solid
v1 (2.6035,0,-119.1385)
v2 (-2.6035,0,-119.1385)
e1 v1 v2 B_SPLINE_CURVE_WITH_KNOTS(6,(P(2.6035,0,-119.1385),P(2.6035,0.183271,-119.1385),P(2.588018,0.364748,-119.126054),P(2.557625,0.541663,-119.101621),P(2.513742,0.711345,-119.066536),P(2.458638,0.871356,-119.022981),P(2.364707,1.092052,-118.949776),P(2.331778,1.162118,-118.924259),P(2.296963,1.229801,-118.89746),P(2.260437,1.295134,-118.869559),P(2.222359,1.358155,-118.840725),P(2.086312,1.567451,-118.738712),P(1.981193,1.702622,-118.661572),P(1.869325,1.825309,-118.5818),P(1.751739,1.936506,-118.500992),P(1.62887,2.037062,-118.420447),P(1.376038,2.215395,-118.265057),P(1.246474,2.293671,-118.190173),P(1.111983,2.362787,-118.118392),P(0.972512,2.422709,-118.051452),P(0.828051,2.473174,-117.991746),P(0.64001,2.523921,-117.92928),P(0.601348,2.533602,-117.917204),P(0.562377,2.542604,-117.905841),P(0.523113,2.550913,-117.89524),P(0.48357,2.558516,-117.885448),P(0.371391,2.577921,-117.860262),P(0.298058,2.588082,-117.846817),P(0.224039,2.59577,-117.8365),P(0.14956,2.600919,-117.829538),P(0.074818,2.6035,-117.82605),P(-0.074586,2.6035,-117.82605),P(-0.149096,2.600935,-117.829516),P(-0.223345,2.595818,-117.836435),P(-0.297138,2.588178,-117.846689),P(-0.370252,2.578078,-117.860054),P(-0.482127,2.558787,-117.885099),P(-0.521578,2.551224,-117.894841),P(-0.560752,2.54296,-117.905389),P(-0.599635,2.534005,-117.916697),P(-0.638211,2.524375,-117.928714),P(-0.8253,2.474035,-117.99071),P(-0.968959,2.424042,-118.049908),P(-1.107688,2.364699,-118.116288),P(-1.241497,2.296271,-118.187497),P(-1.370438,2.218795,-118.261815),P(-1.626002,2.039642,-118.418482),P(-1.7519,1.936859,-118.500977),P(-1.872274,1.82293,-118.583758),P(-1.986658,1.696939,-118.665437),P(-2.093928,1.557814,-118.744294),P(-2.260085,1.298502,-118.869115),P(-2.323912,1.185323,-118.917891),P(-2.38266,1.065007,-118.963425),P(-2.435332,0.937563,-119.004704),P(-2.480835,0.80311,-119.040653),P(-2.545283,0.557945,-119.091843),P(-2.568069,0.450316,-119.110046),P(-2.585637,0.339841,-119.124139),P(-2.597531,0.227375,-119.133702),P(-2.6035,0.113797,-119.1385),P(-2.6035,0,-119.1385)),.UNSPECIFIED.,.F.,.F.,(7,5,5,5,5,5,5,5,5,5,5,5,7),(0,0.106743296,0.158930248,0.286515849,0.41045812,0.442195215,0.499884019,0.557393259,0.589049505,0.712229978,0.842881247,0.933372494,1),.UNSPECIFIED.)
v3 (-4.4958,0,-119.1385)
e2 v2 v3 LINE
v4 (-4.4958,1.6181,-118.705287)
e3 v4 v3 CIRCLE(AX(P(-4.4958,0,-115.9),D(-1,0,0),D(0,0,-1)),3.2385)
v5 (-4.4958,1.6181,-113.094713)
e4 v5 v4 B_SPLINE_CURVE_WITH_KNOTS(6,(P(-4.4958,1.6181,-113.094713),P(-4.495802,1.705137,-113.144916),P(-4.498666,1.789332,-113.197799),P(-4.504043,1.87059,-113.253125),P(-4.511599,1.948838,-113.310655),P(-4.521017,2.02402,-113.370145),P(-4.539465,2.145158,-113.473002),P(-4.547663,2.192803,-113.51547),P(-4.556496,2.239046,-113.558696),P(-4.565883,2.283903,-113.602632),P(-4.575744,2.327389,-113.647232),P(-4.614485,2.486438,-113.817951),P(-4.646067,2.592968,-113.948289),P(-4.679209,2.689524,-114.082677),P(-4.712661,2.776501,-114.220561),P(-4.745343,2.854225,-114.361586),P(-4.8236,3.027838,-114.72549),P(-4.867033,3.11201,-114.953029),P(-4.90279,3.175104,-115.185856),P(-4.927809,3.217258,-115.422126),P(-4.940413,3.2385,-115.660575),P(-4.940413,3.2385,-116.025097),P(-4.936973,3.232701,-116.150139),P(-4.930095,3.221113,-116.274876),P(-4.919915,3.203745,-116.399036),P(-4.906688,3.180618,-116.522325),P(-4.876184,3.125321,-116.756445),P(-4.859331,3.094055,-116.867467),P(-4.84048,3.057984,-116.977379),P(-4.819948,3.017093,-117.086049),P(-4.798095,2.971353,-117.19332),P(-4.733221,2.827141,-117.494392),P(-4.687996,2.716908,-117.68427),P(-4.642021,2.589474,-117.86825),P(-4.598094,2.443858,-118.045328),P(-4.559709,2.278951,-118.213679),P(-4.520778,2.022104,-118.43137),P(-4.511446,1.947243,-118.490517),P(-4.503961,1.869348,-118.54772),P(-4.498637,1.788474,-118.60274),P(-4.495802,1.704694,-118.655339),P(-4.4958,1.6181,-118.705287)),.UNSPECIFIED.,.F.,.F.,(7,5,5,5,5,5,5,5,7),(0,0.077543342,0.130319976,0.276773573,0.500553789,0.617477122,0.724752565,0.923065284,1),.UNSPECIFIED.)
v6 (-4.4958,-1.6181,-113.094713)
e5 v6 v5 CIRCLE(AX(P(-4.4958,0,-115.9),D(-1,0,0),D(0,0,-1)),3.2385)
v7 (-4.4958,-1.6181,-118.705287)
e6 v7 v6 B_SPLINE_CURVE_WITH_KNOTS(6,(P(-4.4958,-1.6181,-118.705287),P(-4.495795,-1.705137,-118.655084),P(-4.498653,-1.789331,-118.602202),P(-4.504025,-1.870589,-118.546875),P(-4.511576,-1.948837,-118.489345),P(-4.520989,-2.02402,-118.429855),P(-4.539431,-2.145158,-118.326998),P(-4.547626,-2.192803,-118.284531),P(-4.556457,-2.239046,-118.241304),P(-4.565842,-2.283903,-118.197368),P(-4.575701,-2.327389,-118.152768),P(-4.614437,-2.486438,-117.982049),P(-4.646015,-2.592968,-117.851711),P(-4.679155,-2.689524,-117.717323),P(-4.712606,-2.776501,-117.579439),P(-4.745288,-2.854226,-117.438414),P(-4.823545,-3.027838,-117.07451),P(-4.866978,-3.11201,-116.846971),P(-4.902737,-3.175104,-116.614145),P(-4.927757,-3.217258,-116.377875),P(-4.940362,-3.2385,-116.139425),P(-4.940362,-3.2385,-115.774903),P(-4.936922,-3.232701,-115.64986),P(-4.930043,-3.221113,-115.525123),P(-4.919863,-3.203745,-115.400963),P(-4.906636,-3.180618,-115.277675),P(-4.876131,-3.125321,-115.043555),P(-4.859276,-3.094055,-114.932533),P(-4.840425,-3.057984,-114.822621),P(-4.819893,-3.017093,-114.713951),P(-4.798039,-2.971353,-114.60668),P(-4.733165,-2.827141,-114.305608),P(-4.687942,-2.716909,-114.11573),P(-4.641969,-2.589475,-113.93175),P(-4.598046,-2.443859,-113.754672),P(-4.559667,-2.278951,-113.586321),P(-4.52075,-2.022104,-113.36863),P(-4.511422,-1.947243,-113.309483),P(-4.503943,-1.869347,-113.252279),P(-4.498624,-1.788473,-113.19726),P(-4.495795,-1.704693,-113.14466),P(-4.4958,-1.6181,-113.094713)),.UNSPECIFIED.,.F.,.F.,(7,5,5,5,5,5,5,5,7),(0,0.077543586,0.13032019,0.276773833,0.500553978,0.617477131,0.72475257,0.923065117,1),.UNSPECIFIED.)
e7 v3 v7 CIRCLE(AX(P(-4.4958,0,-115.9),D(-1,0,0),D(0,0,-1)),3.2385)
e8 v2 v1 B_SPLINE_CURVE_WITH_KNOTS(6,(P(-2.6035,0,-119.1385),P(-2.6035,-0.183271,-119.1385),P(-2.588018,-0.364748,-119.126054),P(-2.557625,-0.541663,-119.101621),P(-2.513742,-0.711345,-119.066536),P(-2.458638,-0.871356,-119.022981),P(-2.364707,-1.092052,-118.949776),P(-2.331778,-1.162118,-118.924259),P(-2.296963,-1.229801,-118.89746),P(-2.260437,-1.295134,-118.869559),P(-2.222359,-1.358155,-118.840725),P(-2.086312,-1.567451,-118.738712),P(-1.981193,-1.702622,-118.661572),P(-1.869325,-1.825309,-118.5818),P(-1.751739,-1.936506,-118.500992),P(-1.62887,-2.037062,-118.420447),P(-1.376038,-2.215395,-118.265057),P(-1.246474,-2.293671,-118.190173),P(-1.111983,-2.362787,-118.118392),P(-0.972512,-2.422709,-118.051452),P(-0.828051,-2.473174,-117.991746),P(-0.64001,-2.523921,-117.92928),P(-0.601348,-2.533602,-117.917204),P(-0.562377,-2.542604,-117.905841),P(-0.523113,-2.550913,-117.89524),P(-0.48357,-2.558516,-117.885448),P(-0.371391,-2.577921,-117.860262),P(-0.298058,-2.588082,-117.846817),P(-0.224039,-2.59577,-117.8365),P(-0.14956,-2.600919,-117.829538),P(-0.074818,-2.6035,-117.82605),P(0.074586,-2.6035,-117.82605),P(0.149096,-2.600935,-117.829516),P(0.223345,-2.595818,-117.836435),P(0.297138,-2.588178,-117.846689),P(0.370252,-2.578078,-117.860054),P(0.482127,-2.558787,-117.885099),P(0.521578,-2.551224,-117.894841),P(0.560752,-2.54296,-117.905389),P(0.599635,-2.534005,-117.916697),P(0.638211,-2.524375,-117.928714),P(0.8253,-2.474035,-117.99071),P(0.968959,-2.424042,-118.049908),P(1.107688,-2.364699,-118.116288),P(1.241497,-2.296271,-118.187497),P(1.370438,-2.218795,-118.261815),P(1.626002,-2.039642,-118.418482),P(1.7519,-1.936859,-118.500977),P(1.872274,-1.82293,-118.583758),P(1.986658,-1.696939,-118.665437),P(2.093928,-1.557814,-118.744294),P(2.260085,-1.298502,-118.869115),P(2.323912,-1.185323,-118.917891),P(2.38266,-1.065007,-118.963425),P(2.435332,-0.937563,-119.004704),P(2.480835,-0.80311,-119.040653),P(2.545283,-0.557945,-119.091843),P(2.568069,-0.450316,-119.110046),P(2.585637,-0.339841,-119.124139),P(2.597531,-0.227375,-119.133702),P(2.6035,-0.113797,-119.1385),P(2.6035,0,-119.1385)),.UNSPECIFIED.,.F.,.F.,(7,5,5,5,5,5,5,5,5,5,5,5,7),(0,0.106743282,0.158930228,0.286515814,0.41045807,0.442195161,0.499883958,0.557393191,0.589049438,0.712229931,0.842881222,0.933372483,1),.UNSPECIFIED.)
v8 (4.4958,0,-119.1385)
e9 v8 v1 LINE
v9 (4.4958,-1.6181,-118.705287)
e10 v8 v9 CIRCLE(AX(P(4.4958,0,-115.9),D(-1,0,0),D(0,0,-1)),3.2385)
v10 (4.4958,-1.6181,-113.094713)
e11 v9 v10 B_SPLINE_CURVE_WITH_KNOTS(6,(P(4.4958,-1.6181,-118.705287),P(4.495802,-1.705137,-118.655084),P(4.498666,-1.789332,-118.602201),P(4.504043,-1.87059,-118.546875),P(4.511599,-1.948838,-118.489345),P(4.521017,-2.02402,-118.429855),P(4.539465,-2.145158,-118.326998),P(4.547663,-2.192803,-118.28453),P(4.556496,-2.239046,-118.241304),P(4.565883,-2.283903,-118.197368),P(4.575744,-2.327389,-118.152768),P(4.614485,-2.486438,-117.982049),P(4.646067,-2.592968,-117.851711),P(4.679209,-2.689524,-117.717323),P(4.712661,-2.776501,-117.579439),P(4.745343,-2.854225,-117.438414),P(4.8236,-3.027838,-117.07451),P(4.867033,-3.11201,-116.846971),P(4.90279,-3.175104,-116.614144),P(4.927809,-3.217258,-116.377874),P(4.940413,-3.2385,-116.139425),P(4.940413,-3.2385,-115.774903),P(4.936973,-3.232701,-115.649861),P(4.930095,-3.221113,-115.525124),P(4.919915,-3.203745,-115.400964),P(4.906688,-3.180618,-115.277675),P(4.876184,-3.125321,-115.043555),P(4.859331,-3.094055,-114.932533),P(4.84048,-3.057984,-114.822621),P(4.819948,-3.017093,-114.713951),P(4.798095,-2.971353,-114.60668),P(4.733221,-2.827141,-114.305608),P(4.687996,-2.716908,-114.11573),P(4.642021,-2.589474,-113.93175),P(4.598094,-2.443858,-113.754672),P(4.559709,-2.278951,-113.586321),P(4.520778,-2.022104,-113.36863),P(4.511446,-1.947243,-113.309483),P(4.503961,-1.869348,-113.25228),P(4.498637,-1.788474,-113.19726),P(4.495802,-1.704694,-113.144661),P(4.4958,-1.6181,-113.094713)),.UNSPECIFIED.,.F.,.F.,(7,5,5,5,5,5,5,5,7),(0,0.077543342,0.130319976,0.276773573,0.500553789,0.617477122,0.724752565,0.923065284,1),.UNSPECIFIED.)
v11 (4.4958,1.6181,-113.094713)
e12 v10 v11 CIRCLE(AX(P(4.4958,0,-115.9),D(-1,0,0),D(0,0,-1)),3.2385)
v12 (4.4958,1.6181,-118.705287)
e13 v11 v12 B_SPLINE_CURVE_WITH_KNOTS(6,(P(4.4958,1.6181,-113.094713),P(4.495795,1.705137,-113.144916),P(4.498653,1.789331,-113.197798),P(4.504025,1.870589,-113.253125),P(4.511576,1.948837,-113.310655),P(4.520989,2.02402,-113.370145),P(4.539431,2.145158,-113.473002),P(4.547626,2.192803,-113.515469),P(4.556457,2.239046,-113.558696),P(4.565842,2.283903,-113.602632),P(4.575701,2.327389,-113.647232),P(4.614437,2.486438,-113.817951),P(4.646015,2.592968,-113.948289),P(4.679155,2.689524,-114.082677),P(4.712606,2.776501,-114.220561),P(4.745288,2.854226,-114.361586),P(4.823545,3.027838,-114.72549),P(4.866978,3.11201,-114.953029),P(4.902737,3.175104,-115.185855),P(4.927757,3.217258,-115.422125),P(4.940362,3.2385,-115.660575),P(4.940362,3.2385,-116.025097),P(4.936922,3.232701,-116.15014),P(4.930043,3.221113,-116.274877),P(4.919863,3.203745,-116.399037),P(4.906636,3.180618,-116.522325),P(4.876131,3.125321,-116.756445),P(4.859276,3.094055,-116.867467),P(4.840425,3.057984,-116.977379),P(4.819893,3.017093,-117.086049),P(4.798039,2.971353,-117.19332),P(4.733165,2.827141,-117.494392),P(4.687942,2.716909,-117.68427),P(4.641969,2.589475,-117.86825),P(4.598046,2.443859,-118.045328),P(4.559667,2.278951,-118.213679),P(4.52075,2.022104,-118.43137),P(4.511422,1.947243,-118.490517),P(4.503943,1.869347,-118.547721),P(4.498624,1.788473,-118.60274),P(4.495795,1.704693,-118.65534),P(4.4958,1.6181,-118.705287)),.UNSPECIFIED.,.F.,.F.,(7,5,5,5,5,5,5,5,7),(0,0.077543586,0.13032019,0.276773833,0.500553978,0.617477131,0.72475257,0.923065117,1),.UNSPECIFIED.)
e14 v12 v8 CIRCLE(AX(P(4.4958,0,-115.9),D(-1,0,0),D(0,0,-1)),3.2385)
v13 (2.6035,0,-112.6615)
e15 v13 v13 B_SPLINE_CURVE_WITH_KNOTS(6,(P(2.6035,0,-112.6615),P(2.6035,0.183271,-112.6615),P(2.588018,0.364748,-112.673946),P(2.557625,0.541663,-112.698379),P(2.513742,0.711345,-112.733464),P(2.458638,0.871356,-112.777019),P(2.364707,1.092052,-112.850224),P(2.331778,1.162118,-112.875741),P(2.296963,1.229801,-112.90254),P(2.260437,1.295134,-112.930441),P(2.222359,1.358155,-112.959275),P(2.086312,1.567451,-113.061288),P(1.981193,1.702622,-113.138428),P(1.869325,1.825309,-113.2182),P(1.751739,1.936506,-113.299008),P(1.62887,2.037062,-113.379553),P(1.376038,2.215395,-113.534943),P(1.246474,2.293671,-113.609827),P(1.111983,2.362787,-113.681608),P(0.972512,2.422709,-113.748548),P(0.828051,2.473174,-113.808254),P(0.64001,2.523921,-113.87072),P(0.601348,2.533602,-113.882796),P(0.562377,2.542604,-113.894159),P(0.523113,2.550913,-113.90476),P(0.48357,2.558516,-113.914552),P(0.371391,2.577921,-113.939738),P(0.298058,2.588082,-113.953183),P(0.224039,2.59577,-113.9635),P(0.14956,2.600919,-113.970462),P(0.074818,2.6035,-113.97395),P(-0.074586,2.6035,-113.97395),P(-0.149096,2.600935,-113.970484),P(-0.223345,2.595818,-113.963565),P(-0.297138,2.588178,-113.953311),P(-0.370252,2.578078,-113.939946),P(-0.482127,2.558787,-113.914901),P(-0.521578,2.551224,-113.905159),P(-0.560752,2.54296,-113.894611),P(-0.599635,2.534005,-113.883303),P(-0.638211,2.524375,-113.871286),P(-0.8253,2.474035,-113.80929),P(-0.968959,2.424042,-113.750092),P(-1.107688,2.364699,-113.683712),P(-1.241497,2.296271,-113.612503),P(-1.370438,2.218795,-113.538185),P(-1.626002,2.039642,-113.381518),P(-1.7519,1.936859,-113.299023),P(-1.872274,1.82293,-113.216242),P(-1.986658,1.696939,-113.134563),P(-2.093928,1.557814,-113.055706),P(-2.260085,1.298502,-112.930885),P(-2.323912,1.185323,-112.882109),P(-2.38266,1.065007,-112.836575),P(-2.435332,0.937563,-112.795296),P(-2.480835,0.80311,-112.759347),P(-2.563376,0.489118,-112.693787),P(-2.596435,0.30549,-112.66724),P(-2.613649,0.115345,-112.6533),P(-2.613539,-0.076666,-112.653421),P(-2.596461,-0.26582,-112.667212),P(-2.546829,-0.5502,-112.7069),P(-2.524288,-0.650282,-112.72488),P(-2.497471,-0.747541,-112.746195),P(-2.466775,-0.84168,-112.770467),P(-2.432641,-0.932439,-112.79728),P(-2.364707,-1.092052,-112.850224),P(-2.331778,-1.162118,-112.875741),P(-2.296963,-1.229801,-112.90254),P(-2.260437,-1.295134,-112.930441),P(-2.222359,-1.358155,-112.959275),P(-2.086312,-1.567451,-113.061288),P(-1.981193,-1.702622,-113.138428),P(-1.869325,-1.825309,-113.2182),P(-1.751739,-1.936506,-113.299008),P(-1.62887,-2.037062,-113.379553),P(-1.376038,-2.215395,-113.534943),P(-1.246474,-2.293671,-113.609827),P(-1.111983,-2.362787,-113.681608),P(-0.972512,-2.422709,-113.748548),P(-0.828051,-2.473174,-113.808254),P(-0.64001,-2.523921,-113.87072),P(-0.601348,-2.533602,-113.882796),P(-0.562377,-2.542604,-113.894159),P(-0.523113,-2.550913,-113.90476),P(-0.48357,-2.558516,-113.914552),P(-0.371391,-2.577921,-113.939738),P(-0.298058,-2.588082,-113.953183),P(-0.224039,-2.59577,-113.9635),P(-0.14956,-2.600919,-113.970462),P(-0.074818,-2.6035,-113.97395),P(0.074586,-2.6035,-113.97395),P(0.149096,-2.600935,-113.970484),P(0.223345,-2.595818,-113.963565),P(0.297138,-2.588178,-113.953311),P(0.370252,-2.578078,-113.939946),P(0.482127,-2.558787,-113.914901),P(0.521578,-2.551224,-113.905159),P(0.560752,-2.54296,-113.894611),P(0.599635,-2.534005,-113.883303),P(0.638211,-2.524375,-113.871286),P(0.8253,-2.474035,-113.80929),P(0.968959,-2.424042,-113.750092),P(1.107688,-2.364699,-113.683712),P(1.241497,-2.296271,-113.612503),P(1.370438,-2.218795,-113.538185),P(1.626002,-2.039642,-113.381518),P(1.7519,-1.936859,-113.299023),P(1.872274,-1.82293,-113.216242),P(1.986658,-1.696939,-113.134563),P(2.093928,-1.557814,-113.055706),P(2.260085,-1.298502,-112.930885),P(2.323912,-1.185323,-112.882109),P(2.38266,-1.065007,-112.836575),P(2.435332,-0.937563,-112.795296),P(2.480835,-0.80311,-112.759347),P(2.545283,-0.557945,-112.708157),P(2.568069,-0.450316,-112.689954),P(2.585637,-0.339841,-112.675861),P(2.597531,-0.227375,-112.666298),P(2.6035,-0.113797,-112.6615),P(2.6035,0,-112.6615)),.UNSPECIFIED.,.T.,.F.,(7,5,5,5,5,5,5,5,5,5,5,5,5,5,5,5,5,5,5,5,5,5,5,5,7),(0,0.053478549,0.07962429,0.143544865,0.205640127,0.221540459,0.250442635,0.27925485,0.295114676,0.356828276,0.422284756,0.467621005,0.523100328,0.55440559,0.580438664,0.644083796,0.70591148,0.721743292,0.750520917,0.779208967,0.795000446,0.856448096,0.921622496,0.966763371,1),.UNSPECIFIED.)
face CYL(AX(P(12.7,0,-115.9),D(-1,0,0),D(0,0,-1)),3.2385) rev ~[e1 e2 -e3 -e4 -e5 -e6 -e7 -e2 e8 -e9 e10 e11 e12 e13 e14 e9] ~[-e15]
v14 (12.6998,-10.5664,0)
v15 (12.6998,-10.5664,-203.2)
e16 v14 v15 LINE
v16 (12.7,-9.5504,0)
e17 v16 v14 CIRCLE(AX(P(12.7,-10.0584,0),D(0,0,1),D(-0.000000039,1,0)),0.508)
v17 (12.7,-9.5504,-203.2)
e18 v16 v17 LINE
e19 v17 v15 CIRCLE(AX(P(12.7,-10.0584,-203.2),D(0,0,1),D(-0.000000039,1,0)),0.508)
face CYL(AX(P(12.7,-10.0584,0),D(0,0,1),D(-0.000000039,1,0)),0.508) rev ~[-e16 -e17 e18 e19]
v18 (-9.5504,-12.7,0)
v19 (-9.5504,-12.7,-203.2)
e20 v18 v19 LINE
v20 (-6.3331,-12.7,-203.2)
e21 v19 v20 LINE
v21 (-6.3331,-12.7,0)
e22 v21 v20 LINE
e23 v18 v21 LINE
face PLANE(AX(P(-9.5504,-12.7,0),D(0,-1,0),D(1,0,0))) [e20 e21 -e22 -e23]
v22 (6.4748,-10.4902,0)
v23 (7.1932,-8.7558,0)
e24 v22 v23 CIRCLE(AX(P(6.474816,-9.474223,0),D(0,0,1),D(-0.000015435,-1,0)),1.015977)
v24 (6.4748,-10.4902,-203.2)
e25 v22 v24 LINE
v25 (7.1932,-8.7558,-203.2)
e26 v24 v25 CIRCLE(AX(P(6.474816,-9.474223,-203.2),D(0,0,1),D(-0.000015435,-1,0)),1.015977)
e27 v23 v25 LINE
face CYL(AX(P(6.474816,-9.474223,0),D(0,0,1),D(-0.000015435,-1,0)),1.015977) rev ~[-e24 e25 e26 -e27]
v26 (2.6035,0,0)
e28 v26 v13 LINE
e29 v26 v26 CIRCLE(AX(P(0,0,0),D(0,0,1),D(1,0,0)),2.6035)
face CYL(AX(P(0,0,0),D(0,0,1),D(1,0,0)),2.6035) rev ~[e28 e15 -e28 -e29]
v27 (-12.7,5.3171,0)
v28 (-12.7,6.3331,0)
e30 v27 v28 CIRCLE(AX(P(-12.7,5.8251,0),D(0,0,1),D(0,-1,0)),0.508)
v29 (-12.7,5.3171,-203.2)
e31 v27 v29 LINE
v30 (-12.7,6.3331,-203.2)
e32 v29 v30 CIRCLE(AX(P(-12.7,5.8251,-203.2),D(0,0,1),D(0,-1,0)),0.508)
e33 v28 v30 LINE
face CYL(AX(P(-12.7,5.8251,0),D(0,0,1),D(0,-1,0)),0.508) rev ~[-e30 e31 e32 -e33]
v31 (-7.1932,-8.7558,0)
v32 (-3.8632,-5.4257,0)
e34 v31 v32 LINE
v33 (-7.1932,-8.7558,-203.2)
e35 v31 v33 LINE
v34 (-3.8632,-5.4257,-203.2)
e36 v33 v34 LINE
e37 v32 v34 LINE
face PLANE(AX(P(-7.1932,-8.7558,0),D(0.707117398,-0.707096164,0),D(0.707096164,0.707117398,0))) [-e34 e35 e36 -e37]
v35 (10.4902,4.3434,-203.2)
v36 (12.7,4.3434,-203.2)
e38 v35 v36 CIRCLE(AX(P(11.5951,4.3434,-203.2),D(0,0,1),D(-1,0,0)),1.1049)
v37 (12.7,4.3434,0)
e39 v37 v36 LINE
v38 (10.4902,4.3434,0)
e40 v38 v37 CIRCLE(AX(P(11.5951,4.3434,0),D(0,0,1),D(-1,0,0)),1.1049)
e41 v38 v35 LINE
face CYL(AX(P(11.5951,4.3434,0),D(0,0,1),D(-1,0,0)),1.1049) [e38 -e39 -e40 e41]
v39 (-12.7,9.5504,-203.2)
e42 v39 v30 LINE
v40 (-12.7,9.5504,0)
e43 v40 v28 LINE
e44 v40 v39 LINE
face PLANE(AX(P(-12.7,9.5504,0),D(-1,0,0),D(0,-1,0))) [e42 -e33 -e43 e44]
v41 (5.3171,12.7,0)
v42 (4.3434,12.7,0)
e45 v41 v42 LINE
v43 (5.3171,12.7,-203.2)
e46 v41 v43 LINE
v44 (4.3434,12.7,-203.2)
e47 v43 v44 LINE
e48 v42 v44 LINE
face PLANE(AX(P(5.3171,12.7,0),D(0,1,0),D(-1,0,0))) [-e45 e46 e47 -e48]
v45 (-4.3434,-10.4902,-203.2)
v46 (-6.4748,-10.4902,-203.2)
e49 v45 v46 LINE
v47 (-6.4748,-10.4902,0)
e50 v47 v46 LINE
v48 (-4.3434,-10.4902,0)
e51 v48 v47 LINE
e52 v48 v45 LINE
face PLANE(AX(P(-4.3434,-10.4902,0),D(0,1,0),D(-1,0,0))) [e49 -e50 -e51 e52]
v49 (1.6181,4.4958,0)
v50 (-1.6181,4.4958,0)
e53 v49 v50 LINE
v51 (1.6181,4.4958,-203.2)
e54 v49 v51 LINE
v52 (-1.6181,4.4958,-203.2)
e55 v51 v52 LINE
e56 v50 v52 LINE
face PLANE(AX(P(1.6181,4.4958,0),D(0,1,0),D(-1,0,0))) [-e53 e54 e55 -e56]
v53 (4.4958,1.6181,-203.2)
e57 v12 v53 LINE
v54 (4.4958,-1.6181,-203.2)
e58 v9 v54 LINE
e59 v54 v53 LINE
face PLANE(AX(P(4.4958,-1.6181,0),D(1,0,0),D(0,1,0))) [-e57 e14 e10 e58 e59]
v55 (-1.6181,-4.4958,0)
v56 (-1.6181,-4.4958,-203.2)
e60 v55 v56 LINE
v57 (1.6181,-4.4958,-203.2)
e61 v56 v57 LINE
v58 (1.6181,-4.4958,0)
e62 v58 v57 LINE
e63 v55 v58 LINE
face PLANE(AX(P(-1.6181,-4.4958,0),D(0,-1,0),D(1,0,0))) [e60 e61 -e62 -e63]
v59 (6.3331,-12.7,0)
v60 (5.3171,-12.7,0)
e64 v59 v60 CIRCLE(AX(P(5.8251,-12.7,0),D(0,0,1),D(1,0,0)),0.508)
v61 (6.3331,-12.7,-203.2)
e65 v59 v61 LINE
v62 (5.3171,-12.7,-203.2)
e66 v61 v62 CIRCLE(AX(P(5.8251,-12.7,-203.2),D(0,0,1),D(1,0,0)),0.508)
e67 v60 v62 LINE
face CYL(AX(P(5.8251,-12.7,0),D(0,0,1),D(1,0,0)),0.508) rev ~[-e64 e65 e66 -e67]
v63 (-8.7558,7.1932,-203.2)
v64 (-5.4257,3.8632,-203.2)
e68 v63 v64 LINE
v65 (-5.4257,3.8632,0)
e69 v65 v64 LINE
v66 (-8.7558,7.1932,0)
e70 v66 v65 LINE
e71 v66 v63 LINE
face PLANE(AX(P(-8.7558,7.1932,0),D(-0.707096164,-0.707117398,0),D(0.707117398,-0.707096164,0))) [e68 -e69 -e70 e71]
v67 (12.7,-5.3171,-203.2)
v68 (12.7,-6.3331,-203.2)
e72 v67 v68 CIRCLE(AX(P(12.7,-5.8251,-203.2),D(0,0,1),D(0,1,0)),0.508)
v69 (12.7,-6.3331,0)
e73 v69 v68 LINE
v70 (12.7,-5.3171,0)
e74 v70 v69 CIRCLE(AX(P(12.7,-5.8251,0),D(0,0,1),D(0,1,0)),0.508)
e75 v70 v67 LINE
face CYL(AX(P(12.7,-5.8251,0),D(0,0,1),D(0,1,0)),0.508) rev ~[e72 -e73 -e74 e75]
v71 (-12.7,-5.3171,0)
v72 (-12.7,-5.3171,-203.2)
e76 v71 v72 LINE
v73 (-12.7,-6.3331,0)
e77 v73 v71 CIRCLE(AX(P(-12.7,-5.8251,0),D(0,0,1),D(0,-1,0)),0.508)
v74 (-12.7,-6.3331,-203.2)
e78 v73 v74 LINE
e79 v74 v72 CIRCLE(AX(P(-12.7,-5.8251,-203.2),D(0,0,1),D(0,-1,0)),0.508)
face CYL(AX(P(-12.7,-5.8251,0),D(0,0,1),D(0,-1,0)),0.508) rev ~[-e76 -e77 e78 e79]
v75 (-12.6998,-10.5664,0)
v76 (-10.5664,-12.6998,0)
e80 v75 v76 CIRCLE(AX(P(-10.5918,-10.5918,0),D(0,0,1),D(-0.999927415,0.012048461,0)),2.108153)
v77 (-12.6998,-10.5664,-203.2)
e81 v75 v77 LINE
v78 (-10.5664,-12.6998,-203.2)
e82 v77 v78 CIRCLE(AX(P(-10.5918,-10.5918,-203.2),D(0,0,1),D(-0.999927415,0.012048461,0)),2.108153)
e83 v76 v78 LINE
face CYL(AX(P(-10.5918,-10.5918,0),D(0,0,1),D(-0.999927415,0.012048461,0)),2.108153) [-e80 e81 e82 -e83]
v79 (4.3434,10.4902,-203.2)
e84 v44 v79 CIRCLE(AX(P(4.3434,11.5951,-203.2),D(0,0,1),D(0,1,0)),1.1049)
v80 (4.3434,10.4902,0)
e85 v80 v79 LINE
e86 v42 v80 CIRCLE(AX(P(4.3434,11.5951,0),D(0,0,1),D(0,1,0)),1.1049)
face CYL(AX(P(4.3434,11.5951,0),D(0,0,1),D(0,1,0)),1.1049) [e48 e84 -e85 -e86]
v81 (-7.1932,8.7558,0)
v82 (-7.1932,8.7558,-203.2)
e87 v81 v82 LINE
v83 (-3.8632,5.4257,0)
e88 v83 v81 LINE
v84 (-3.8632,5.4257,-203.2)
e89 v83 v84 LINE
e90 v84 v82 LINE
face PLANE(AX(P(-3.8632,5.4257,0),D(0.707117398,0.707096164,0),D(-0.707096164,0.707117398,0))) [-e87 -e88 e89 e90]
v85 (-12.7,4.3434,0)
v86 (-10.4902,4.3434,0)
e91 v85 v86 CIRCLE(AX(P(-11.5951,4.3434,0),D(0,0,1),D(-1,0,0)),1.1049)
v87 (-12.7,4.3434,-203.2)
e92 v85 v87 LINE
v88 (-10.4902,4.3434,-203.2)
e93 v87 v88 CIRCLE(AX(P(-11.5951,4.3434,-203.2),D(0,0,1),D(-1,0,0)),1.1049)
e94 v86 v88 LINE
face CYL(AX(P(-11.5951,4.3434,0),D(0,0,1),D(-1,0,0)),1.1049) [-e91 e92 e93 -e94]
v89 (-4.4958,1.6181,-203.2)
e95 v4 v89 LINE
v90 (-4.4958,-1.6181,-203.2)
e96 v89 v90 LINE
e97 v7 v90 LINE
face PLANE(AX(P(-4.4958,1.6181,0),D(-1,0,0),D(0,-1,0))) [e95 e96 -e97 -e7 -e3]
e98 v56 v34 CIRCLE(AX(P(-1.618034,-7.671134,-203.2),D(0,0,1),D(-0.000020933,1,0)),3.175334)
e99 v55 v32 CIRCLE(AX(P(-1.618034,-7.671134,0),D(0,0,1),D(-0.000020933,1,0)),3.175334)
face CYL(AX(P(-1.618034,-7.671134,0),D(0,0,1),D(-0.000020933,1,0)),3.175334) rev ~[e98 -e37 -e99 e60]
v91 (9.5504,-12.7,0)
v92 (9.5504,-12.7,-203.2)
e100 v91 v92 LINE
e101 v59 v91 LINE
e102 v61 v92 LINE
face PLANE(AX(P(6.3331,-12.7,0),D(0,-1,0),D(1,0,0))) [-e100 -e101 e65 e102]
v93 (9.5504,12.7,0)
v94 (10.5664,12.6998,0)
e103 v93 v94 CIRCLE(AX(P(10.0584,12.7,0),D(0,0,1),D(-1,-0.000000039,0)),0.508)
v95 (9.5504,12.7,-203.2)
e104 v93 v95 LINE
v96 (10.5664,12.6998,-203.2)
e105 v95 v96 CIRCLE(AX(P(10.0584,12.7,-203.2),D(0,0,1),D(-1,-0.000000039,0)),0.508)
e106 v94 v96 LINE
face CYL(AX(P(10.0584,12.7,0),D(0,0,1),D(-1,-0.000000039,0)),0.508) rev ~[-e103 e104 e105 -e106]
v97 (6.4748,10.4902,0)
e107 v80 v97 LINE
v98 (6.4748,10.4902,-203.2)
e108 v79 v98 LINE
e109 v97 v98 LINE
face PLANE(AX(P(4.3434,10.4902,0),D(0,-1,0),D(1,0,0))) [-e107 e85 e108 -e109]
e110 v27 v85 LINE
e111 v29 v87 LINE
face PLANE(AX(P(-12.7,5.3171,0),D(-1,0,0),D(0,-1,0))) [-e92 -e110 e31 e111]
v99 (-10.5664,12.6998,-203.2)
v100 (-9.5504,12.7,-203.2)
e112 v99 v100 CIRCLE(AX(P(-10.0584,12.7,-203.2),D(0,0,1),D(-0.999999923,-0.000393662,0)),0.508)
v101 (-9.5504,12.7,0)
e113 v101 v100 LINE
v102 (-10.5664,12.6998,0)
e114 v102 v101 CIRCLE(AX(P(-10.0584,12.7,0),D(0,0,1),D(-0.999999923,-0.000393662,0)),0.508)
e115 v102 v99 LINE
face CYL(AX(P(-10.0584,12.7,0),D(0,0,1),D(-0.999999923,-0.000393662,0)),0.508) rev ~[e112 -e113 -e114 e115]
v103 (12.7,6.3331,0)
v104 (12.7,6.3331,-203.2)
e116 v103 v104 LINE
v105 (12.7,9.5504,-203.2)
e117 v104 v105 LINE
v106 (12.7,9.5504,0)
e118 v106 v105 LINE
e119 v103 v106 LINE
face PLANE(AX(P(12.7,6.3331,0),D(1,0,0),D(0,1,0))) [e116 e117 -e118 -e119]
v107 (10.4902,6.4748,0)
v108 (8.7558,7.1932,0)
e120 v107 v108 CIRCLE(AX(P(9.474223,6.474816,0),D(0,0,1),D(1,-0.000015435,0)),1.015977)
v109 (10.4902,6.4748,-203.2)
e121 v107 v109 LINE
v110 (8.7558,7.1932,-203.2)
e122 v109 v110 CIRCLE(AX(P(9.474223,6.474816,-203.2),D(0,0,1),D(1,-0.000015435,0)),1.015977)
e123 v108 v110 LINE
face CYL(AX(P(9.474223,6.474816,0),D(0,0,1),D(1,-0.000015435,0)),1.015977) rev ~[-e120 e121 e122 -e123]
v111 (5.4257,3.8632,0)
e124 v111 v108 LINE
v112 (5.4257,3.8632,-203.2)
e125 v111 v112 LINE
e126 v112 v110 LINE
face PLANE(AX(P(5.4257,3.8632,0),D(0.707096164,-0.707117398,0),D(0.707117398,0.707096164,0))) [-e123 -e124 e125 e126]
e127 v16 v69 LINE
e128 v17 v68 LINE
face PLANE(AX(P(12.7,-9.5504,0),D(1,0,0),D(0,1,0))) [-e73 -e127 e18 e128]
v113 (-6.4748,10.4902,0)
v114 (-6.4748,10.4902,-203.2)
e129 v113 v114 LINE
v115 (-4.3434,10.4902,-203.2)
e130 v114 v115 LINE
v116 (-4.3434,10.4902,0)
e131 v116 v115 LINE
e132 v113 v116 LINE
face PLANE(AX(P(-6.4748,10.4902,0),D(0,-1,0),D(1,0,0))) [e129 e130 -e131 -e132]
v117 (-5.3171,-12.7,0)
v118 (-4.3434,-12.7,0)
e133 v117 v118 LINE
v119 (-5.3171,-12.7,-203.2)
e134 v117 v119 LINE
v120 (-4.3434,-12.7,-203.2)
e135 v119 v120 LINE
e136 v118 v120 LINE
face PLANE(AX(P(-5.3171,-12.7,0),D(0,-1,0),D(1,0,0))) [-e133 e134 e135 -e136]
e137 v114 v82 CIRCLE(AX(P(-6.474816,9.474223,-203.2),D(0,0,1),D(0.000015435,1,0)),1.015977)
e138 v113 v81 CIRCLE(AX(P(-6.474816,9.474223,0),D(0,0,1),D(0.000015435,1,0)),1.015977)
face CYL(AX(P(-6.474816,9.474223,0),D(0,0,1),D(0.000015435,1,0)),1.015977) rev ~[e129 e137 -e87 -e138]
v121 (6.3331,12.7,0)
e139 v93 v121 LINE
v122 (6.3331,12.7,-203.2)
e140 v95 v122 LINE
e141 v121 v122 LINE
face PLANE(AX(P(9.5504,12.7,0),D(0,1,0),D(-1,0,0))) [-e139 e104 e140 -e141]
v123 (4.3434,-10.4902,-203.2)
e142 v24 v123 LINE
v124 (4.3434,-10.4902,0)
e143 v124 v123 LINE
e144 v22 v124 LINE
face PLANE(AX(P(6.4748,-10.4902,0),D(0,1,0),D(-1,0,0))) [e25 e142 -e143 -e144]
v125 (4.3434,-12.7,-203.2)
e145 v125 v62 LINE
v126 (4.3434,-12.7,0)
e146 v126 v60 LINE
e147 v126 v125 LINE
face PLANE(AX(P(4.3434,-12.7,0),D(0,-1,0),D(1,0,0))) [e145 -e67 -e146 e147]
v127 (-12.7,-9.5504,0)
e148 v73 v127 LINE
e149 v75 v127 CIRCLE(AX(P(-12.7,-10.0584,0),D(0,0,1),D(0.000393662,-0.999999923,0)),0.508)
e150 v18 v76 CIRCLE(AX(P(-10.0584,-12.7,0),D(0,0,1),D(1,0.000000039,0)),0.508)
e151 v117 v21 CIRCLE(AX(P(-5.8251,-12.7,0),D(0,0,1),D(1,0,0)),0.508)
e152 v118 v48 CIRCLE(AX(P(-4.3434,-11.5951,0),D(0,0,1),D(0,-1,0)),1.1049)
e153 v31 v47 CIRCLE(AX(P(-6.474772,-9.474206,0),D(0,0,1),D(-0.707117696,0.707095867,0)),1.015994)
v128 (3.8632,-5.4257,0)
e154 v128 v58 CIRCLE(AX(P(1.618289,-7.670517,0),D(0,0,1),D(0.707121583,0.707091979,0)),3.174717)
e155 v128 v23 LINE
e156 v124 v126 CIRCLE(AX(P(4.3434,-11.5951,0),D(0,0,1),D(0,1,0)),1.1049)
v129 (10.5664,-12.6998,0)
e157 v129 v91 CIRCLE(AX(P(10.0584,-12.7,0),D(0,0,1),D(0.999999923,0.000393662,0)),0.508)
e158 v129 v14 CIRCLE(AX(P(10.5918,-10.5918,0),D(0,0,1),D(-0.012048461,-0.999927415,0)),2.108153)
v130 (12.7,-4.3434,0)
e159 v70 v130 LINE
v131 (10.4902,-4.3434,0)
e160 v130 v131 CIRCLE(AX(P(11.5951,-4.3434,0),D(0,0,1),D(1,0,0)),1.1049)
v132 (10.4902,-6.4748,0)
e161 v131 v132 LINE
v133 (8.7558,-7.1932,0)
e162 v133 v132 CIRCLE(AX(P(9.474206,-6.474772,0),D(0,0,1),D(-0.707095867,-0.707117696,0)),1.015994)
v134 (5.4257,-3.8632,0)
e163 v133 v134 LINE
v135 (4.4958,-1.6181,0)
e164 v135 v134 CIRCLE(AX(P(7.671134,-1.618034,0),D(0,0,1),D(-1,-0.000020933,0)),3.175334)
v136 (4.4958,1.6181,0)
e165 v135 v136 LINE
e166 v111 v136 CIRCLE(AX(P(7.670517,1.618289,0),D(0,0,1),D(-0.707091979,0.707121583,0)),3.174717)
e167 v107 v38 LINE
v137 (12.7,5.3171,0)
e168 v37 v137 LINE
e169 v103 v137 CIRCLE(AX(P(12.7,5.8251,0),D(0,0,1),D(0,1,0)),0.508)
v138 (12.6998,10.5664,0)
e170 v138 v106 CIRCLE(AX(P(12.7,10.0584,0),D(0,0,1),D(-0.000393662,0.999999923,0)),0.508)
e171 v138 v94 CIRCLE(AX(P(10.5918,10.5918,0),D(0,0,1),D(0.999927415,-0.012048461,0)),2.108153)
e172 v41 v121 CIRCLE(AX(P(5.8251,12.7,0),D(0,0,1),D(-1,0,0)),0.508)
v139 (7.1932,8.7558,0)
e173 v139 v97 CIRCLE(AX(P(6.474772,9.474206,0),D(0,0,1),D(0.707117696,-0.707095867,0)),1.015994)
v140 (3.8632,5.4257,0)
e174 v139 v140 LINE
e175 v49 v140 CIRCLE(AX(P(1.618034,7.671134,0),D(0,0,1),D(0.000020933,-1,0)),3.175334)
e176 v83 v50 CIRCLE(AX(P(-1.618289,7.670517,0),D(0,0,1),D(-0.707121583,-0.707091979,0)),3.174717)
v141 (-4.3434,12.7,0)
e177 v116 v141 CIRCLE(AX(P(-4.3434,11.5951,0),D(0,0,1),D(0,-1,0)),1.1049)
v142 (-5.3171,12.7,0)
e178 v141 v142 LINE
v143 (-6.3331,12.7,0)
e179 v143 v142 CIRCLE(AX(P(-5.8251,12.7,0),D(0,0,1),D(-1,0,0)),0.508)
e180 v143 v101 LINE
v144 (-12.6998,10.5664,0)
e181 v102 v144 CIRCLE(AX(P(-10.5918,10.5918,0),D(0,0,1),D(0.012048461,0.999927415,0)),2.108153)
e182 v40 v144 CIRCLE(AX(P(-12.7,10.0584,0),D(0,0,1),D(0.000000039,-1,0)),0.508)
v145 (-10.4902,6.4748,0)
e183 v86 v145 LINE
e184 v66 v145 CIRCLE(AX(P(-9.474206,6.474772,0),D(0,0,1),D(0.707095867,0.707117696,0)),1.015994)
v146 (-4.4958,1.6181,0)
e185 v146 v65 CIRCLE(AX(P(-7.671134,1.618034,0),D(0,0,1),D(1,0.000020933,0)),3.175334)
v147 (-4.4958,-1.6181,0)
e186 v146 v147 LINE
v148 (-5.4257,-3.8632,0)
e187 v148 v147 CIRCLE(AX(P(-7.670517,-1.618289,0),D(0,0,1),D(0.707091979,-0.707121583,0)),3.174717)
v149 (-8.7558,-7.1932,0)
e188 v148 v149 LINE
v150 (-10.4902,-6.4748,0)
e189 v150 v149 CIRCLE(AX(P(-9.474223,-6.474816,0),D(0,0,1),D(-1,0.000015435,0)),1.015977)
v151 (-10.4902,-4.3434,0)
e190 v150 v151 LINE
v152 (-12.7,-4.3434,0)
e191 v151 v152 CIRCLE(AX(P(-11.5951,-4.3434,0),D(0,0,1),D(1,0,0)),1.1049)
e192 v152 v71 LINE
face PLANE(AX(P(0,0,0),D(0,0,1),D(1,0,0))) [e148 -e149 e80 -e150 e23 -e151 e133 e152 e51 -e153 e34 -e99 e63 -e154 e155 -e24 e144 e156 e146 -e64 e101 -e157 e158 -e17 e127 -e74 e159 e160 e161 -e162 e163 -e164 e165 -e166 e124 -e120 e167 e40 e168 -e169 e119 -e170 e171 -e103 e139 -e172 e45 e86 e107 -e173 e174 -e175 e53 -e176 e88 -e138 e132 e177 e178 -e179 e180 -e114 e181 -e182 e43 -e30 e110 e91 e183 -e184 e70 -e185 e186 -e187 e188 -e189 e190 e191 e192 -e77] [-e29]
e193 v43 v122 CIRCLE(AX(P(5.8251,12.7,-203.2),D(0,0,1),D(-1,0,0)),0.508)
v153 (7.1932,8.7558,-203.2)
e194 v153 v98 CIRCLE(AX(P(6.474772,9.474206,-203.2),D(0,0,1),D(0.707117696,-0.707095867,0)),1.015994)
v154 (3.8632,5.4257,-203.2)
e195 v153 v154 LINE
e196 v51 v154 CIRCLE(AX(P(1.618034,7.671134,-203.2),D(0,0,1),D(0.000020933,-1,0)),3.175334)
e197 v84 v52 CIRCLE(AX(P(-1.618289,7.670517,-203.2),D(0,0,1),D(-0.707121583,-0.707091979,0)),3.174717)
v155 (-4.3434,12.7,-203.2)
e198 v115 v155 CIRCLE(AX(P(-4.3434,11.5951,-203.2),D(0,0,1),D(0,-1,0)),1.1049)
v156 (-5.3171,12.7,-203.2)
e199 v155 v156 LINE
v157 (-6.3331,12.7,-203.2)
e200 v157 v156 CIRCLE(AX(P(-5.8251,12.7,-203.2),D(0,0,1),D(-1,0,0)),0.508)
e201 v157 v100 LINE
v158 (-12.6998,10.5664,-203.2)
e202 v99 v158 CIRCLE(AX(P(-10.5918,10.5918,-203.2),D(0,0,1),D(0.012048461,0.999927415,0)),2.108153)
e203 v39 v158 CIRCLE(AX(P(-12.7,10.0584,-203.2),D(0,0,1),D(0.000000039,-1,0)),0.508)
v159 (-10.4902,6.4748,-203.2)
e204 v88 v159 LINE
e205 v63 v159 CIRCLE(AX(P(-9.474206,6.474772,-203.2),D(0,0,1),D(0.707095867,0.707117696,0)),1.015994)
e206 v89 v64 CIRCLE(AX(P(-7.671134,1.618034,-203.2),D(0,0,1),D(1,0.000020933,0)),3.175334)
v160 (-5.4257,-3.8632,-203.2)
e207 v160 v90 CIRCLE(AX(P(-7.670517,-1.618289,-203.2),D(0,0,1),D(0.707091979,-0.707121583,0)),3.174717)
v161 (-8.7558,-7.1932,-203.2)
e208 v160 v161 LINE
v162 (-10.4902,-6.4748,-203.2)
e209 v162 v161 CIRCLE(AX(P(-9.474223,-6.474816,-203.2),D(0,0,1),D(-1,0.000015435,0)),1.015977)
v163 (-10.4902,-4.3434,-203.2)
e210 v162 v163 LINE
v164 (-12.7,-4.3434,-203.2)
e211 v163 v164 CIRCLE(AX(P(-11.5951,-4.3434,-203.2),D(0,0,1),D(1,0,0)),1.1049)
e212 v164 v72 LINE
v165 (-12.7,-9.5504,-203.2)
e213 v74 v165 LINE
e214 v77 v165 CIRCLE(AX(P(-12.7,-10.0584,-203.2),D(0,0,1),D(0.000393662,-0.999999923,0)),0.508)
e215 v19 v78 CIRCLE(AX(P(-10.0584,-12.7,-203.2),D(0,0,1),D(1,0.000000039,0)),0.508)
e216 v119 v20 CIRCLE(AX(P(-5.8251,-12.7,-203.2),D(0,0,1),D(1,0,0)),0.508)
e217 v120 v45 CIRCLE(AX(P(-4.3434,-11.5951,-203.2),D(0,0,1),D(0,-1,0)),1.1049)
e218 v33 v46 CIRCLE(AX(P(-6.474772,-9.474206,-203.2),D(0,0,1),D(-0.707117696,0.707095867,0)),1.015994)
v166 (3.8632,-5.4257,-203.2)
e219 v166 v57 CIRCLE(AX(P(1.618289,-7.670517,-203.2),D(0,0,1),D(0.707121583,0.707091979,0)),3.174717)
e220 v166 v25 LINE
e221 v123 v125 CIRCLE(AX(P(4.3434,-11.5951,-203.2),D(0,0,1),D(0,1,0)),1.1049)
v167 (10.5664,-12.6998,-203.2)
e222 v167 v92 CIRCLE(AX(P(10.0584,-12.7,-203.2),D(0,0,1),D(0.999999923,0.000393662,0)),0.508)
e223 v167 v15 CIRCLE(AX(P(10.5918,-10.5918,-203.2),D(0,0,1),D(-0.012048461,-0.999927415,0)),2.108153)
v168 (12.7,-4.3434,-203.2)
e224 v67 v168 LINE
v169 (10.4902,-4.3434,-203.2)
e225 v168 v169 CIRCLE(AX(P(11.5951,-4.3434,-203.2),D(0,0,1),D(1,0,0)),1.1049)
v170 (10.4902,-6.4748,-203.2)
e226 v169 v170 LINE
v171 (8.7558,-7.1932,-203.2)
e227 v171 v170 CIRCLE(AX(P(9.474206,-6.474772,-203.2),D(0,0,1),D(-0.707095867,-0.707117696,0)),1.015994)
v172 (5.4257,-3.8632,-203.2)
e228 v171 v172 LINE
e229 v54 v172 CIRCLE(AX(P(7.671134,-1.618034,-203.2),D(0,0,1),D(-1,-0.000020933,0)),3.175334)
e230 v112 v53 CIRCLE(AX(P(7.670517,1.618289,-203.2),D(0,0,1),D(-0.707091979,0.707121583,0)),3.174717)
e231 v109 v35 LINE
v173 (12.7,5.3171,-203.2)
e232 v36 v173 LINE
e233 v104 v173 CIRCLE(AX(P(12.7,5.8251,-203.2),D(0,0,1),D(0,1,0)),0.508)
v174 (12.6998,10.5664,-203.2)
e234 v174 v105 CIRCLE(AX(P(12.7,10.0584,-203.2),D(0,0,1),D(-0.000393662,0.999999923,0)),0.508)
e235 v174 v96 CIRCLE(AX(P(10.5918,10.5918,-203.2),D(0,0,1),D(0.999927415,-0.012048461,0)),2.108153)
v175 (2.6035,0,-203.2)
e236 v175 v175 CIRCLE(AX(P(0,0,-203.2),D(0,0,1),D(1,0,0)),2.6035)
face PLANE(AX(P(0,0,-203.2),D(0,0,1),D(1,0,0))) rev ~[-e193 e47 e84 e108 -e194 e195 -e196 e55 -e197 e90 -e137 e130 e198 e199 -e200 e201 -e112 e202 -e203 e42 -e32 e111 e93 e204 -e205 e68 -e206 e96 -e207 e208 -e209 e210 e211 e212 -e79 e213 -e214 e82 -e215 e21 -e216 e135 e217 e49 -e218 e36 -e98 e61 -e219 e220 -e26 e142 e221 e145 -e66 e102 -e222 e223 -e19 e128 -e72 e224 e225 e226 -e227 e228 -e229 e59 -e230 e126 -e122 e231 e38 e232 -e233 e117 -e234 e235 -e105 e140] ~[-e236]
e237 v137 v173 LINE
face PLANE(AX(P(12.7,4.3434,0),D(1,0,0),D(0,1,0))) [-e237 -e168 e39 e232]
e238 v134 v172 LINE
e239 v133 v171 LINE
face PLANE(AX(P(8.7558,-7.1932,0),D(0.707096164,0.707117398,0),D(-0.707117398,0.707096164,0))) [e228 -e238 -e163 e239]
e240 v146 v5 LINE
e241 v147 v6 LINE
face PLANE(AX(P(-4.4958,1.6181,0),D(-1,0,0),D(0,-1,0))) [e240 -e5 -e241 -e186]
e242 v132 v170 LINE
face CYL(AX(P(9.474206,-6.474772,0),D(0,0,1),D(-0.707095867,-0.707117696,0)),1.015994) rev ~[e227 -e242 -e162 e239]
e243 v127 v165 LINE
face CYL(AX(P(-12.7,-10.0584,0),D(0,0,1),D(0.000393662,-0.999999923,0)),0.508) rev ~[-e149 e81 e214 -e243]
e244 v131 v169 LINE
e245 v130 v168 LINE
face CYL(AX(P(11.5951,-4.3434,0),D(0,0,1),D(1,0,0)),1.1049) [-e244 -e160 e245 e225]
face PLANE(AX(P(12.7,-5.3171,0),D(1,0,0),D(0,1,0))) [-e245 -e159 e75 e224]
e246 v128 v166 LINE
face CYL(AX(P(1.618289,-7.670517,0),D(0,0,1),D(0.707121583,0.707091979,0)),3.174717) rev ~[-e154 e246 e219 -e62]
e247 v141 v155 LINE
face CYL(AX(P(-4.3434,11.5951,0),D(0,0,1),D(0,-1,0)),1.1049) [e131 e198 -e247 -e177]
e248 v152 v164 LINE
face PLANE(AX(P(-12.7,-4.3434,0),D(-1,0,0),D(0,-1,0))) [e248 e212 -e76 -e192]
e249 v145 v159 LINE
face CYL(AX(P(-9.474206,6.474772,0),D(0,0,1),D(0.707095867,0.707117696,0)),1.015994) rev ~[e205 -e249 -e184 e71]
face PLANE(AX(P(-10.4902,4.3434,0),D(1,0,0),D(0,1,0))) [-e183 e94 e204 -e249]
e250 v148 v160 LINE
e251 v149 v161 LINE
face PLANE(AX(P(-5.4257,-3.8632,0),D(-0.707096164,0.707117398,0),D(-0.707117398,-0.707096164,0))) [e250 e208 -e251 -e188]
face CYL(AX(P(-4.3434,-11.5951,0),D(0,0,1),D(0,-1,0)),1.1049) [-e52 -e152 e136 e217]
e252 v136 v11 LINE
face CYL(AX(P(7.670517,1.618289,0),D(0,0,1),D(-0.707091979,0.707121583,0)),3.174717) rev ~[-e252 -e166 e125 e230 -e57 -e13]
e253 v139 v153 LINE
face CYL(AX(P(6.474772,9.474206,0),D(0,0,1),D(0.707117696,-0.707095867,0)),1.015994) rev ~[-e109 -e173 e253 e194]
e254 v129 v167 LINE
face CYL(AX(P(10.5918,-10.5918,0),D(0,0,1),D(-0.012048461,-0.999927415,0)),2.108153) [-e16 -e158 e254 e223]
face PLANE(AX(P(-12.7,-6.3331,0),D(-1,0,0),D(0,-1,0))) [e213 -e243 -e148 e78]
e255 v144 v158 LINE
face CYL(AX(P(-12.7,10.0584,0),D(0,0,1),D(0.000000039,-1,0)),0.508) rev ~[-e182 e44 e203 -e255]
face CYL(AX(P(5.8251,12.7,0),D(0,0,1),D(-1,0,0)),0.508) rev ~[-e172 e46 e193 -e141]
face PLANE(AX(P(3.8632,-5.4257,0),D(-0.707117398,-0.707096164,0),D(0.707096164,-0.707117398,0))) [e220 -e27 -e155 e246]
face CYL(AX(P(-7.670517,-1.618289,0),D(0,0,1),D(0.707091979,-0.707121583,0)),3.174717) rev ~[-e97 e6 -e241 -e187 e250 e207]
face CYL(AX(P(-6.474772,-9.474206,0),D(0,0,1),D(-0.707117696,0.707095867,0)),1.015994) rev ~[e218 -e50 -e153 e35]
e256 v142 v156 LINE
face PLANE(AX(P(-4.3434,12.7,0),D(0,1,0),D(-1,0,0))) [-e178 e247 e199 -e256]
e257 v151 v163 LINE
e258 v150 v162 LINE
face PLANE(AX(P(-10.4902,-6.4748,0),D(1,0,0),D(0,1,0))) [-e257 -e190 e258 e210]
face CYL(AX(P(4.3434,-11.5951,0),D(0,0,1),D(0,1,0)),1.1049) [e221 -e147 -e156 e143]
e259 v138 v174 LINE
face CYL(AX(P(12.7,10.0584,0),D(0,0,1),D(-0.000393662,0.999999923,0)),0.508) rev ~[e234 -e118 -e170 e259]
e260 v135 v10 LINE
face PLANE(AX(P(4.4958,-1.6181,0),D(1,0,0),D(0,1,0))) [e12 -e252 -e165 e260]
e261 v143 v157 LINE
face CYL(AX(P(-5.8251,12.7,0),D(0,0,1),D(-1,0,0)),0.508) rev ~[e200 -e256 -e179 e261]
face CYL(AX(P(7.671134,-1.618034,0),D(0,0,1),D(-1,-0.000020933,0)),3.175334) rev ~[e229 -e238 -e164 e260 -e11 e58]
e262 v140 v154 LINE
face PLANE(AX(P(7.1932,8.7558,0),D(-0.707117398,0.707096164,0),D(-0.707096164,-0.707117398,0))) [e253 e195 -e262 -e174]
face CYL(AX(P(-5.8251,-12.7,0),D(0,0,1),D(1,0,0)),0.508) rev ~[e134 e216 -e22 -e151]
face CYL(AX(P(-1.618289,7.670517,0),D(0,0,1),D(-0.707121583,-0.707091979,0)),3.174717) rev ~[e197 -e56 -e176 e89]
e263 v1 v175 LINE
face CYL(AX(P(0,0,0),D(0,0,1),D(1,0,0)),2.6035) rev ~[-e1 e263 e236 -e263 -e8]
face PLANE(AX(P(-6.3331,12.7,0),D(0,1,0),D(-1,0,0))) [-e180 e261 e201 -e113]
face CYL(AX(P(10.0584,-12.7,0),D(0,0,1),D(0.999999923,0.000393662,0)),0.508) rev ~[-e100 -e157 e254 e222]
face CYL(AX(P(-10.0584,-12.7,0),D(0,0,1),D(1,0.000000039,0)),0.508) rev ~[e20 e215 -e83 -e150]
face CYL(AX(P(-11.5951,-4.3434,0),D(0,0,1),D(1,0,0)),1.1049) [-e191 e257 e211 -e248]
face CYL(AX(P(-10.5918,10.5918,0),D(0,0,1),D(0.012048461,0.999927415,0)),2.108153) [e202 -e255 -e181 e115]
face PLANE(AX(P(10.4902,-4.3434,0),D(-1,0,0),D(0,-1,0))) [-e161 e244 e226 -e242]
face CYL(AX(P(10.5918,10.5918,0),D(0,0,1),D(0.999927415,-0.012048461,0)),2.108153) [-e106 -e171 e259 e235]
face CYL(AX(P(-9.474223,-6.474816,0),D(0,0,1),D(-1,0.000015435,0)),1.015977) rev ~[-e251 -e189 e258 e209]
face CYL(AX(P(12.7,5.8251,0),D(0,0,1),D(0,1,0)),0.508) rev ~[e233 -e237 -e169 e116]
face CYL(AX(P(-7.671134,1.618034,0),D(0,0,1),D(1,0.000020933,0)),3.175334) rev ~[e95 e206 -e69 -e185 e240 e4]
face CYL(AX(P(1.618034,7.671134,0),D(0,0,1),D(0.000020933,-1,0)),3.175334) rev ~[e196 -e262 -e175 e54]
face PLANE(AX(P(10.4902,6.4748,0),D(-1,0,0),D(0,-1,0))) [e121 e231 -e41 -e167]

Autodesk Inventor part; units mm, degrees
ref_plane "YZ Plane" through (0, 0, 0) normal (1, 0, 0) x (0, 1, 0)
ref_plane "XZ Plane" through (0, 0, 0) normal (0, 1, 0) x (-1, 0, 0)
ref_plane "XY Plane" through (0, 0, 0) normal (0, 0, 1) x (1, 0, 0)
sketch "Sketch_1" plane through (0, 0, 0) normal (0, 0, 1) x (1, 0, 0)
  arc A0 (-12.6998, -10.5664) -> (-10.5664, -12.6998) centre (-10.5918, -10.5918) ccw
  arc A1 (-9.5504, -12.7) -> (-10.5664, -12.6998) centre (-10.0584, -12.7) ccw
  line L0 (-9.5504, -12.7) -> (-6.3331, -12.7)
  arc A2 (-5.3171, -12.7) -> (-6.3331, -12.7) centre (-5.8251, -12.7) ccw
  line L1 (-5.3171, -12.7) -> (-4.3434, -12.7)
  arc A3 (-4.3434, -12.7) -> (-4.3434, -10.4902) centre (-4.3434, -11.5951) ccw
  line L2 (-4.3434, -10.4902) -> (-6.4748, -10.4902)
  arc A4 (-7.1932, -8.7558) -> (-6.4748, -10.4902) centre (-6.4748, -9.4742) ccw
  line L3 (-7.1932, -8.7558) -> (-3.8632, -5.4257)
  arc A5 (-1.6181, -4.4958) -> (-3.8632, -5.4257) centre (-1.6181, -7.6708) ccw
  line L4 (-1.6181, -4.4958) -> (1.6181, -4.4958)
  arc A6 (3.8632, -5.4257) -> (1.6181, -4.4958) centre (1.6181, -7.6708) ccw
  line L5 (3.8632, -5.4257) -> (7.1932, -8.7558)
  arc A7 (6.4748, -10.4902) -> (7.1932, -8.7558) centre (6.4748, -9.4742) ccw
  line L6 (6.4748, -10.4902) -> (4.3434, -10.4902)
  arc A8 (4.3434, -10.4902) -> (4.3434, -12.7) centre (4.3434, -11.5951) ccw
  line L7 (4.3434, -12.7) -> (5.3171, -12.7)
  arc A9 (6.3331, -12.7) -> (5.3171, -12.7) centre (5.8251, -12.7) ccw
  line L8 (6.3331, -12.7) -> (9.5504, -12.7)
  arc A10 (10.5664, -12.6998) -> (9.5504, -12.7) centre (10.0584, -12.7) ccw
  arc A11 (10.5664, -12.6998) -> (12.6998, -10.5664) centre (10.5918, -10.5918) ccw
  arc A12 (12.7, -9.5504) -> (12.6998, -10.5664) centre (12.7, -10.0584) ccw
  line L9 (12.7, -9.5504) -> (12.7, -6.3331)
  arc A13 (12.7, -5.3171) -> (12.7, -6.3331) centre (12.7, -5.8251) ccw
  line L10 (12.7, -5.3171) -> (12.7, -4.3434)
  arc A14 (12.7, -4.3434) -> (10.4902, -4.3434) centre (11.5951, -4.3434) ccw
  line L11 (10.4902, -4.3434) -> (10.4902, -6.4748)
  arc A15 (8.7558, -7.1932) -> (10.4902, -6.4748) centre (9.4742, -6.4748) ccw
  line L12 (8.7558, -7.1932) -> (5.4257, -3.8632)
  arc A16 (4.4958, -1.6181) -> (5.4257, -3.8632) centre (7.6708, -1.6181) ccw
  line L13 (4.4958, -1.6181) -> (4.4958, 1.6181)
  arc A17 (5.4257, 3.8632) -> (4.4958, 1.6181) centre (7.6708, 1.6181) ccw
  line L14 (5.4257, 3.8632) -> (8.7558, 7.1932)
  arc A18 (10.4902, 6.4748) -> (8.7558, 7.1932) centre (9.4742, 6.4748) ccw
  line L15 (10.4902, 6.4748) -> (10.4902, 4.3434)
  arc A19 (10.4902, 4.3434) -> (12.7, 4.3434) centre (11.5951, 4.3434) ccw
  line L16 (12.7, 4.3434) -> (12.7, 5.3171)
  arc A20 (12.7, 6.3331) -> (12.7, 5.3171) centre (12.7, 5.8251) ccw
  line L17 (12.7, 6.3331) -> (12.7, 9.5504)
  arc A21 (12.6998, 10.5664) -> (12.7, 9.5504) centre (12.7, 10.0584) ccw
  arc A22 (12.6998, 10.5664) -> (10.5664, 12.6998) centre (10.5918, 10.5918) ccw
  arc A23 (9.5504, 12.7) -> (10.5664, 12.6998) centre (10.0584, 12.7) ccw
  line L18 (9.5504, 12.7) -> (6.3331, 12.7)
  arc A24 (5.3171, 12.7) -> (6.3331, 12.7) centre (5.8251, 12.7) ccw
  line L19 (5.3171, 12.7) -> (4.3434, 12.7)
  arc A25 (4.3434, 12.7) -> (4.3434, 10.4902) centre (4.3434, 11.5951) ccw
  line L20 (4.3434, 10.4902) -> (6.4748, 10.4902)
  arc A26 (7.1932, 8.7558) -> (6.4748, 10.4902) centre (6.4748, 9.4742) ccw
  line L21 (7.1932, 8.7558) -> (3.8632, 5.4257)
  arc A27 (1.6181, 4.4958) -> (3.8632, 5.4257) centre (1.6181, 7.6708) ccw
  line L22 (1.6181, 4.4958) -> (-1.6181, 4.4958)
  arc A28 (-3.8632, 5.4257) -> (-1.6181, 4.4958) centre (-1.6181, 7.6708) ccw
  line L23 (-3.8632, 5.4257) -> (-7.1932, 8.7558)
  arc A29 (-6.4748, 10.4902) -> (-7.1932, 8.7558) centre (-6.4748, 9.4742) ccw
  line L24 (-6.4748, 10.4902) -> (-4.3434, 10.4902)
  arc A30 (-4.3434, 10.4902) -> (-4.3434, 12.7) centre (-4.3434, 11.5951) ccw
  line L25 (-4.3434, 12.7) -> (-5.3171, 12.7)
  arc A31 (-6.3331, 12.7) -> (-5.3171, 12.7) centre (-5.8251, 12.7) ccw
  line L26 (-6.3331, 12.7) -> (-9.5504, 12.7)
  arc A32 (-10.5664, 12.6998) -> (-9.5504, 12.7) centre (-10.0584, 12.7) ccw
  arc A33 (-10.5664, 12.6998) -> (-12.6998, 10.5664) centre (-10.5918, 10.5918) ccw
  arc A34 (-12.7, 9.5504) -> (-12.6998, 10.5664) centre (-12.7, 10.0584) ccw
  line L27 (-12.7, 9.5504) -> (-12.7, 6.3331)
  arc A35 (-12.7, 5.3171) -> (-12.7, 6.3331) centre (-12.7, 5.8251) ccw
  line L28 (-12.7, 5.3171) -> (-12.7, 4.3434)
  arc A36 (-12.7, 4.3434) -> (-10.4902, 4.3434) centre (-11.5951, 4.3434) ccw
  line L29 (-10.4902, 4.3434) -> (-10.4902, 6.4748)
  arc A37 (-8.7558, 7.1932) -> (-10.4902, 6.4748) centre (-9.4742, 6.4748) ccw
  line L30 (-8.7558, 7.1932) -> (-5.4257, 3.8632)
  arc A38 (-4.4958, 1.6181) -> (-5.4257, 3.8632) centre (-7.6708, 1.6181) ccw
  line L31 (-4.4958, 1.6181) -> (-4.4958, -1.6181)
  arc A39 (-5.4257, -3.8632) -> (-4.4958, -1.6181) centre (-7.6708, -1.6181) ccw
  line L32 (-5.4257, -3.8632) -> (-8.7558, -7.1932)
  arc A40 (-10.4902, -6.4748) -> (-8.7558, -7.1932) centre (-9.4742, -6.4748) ccw
  line L33 (-10.4902, -6.4748) -> (-10.4902, -4.3434)
  arc A41 (-10.4902, -4.3434) -> (-12.7, -4.3434) centre (-11.5951, -4.3434) ccw
  line L34 (-12.7, -4.3434) -> (-12.7, -5.3171)
  arc A42 (-12.7, -6.3331) -> (-12.7, -5.3171) centre (-12.7, -5.8251) ccw
  line L35 (-12.7, -6.3331) -> (-12.7, -9.5504)
  arc A43 (-12.6998, -10.5664) -> (-12.7, -9.5504) centre (-12.7, -10.0584) ccw
  circle A44 centre (0, 0) radius 2.6035
extrude "Extrusion1" add sketch "Sketch_1" against normal blind 203.2
sketch "Sketch4" plane through (12.7, 9.5504, 0) normal (1, 0, 0) x (0, 0, -1)
  line L0 (203.2, -3.2173) -> (203.2, 0) projected
  point P0 (0, -9.5504)
  point P1 (115.9, -9.5504)
  dimension "d32" = 87.3
hole "Hole3" at (12.7, 0, -115.9) direction (-1, 0, 0) diameter 6.477 end through all
properties part number "1010-15-CL"
